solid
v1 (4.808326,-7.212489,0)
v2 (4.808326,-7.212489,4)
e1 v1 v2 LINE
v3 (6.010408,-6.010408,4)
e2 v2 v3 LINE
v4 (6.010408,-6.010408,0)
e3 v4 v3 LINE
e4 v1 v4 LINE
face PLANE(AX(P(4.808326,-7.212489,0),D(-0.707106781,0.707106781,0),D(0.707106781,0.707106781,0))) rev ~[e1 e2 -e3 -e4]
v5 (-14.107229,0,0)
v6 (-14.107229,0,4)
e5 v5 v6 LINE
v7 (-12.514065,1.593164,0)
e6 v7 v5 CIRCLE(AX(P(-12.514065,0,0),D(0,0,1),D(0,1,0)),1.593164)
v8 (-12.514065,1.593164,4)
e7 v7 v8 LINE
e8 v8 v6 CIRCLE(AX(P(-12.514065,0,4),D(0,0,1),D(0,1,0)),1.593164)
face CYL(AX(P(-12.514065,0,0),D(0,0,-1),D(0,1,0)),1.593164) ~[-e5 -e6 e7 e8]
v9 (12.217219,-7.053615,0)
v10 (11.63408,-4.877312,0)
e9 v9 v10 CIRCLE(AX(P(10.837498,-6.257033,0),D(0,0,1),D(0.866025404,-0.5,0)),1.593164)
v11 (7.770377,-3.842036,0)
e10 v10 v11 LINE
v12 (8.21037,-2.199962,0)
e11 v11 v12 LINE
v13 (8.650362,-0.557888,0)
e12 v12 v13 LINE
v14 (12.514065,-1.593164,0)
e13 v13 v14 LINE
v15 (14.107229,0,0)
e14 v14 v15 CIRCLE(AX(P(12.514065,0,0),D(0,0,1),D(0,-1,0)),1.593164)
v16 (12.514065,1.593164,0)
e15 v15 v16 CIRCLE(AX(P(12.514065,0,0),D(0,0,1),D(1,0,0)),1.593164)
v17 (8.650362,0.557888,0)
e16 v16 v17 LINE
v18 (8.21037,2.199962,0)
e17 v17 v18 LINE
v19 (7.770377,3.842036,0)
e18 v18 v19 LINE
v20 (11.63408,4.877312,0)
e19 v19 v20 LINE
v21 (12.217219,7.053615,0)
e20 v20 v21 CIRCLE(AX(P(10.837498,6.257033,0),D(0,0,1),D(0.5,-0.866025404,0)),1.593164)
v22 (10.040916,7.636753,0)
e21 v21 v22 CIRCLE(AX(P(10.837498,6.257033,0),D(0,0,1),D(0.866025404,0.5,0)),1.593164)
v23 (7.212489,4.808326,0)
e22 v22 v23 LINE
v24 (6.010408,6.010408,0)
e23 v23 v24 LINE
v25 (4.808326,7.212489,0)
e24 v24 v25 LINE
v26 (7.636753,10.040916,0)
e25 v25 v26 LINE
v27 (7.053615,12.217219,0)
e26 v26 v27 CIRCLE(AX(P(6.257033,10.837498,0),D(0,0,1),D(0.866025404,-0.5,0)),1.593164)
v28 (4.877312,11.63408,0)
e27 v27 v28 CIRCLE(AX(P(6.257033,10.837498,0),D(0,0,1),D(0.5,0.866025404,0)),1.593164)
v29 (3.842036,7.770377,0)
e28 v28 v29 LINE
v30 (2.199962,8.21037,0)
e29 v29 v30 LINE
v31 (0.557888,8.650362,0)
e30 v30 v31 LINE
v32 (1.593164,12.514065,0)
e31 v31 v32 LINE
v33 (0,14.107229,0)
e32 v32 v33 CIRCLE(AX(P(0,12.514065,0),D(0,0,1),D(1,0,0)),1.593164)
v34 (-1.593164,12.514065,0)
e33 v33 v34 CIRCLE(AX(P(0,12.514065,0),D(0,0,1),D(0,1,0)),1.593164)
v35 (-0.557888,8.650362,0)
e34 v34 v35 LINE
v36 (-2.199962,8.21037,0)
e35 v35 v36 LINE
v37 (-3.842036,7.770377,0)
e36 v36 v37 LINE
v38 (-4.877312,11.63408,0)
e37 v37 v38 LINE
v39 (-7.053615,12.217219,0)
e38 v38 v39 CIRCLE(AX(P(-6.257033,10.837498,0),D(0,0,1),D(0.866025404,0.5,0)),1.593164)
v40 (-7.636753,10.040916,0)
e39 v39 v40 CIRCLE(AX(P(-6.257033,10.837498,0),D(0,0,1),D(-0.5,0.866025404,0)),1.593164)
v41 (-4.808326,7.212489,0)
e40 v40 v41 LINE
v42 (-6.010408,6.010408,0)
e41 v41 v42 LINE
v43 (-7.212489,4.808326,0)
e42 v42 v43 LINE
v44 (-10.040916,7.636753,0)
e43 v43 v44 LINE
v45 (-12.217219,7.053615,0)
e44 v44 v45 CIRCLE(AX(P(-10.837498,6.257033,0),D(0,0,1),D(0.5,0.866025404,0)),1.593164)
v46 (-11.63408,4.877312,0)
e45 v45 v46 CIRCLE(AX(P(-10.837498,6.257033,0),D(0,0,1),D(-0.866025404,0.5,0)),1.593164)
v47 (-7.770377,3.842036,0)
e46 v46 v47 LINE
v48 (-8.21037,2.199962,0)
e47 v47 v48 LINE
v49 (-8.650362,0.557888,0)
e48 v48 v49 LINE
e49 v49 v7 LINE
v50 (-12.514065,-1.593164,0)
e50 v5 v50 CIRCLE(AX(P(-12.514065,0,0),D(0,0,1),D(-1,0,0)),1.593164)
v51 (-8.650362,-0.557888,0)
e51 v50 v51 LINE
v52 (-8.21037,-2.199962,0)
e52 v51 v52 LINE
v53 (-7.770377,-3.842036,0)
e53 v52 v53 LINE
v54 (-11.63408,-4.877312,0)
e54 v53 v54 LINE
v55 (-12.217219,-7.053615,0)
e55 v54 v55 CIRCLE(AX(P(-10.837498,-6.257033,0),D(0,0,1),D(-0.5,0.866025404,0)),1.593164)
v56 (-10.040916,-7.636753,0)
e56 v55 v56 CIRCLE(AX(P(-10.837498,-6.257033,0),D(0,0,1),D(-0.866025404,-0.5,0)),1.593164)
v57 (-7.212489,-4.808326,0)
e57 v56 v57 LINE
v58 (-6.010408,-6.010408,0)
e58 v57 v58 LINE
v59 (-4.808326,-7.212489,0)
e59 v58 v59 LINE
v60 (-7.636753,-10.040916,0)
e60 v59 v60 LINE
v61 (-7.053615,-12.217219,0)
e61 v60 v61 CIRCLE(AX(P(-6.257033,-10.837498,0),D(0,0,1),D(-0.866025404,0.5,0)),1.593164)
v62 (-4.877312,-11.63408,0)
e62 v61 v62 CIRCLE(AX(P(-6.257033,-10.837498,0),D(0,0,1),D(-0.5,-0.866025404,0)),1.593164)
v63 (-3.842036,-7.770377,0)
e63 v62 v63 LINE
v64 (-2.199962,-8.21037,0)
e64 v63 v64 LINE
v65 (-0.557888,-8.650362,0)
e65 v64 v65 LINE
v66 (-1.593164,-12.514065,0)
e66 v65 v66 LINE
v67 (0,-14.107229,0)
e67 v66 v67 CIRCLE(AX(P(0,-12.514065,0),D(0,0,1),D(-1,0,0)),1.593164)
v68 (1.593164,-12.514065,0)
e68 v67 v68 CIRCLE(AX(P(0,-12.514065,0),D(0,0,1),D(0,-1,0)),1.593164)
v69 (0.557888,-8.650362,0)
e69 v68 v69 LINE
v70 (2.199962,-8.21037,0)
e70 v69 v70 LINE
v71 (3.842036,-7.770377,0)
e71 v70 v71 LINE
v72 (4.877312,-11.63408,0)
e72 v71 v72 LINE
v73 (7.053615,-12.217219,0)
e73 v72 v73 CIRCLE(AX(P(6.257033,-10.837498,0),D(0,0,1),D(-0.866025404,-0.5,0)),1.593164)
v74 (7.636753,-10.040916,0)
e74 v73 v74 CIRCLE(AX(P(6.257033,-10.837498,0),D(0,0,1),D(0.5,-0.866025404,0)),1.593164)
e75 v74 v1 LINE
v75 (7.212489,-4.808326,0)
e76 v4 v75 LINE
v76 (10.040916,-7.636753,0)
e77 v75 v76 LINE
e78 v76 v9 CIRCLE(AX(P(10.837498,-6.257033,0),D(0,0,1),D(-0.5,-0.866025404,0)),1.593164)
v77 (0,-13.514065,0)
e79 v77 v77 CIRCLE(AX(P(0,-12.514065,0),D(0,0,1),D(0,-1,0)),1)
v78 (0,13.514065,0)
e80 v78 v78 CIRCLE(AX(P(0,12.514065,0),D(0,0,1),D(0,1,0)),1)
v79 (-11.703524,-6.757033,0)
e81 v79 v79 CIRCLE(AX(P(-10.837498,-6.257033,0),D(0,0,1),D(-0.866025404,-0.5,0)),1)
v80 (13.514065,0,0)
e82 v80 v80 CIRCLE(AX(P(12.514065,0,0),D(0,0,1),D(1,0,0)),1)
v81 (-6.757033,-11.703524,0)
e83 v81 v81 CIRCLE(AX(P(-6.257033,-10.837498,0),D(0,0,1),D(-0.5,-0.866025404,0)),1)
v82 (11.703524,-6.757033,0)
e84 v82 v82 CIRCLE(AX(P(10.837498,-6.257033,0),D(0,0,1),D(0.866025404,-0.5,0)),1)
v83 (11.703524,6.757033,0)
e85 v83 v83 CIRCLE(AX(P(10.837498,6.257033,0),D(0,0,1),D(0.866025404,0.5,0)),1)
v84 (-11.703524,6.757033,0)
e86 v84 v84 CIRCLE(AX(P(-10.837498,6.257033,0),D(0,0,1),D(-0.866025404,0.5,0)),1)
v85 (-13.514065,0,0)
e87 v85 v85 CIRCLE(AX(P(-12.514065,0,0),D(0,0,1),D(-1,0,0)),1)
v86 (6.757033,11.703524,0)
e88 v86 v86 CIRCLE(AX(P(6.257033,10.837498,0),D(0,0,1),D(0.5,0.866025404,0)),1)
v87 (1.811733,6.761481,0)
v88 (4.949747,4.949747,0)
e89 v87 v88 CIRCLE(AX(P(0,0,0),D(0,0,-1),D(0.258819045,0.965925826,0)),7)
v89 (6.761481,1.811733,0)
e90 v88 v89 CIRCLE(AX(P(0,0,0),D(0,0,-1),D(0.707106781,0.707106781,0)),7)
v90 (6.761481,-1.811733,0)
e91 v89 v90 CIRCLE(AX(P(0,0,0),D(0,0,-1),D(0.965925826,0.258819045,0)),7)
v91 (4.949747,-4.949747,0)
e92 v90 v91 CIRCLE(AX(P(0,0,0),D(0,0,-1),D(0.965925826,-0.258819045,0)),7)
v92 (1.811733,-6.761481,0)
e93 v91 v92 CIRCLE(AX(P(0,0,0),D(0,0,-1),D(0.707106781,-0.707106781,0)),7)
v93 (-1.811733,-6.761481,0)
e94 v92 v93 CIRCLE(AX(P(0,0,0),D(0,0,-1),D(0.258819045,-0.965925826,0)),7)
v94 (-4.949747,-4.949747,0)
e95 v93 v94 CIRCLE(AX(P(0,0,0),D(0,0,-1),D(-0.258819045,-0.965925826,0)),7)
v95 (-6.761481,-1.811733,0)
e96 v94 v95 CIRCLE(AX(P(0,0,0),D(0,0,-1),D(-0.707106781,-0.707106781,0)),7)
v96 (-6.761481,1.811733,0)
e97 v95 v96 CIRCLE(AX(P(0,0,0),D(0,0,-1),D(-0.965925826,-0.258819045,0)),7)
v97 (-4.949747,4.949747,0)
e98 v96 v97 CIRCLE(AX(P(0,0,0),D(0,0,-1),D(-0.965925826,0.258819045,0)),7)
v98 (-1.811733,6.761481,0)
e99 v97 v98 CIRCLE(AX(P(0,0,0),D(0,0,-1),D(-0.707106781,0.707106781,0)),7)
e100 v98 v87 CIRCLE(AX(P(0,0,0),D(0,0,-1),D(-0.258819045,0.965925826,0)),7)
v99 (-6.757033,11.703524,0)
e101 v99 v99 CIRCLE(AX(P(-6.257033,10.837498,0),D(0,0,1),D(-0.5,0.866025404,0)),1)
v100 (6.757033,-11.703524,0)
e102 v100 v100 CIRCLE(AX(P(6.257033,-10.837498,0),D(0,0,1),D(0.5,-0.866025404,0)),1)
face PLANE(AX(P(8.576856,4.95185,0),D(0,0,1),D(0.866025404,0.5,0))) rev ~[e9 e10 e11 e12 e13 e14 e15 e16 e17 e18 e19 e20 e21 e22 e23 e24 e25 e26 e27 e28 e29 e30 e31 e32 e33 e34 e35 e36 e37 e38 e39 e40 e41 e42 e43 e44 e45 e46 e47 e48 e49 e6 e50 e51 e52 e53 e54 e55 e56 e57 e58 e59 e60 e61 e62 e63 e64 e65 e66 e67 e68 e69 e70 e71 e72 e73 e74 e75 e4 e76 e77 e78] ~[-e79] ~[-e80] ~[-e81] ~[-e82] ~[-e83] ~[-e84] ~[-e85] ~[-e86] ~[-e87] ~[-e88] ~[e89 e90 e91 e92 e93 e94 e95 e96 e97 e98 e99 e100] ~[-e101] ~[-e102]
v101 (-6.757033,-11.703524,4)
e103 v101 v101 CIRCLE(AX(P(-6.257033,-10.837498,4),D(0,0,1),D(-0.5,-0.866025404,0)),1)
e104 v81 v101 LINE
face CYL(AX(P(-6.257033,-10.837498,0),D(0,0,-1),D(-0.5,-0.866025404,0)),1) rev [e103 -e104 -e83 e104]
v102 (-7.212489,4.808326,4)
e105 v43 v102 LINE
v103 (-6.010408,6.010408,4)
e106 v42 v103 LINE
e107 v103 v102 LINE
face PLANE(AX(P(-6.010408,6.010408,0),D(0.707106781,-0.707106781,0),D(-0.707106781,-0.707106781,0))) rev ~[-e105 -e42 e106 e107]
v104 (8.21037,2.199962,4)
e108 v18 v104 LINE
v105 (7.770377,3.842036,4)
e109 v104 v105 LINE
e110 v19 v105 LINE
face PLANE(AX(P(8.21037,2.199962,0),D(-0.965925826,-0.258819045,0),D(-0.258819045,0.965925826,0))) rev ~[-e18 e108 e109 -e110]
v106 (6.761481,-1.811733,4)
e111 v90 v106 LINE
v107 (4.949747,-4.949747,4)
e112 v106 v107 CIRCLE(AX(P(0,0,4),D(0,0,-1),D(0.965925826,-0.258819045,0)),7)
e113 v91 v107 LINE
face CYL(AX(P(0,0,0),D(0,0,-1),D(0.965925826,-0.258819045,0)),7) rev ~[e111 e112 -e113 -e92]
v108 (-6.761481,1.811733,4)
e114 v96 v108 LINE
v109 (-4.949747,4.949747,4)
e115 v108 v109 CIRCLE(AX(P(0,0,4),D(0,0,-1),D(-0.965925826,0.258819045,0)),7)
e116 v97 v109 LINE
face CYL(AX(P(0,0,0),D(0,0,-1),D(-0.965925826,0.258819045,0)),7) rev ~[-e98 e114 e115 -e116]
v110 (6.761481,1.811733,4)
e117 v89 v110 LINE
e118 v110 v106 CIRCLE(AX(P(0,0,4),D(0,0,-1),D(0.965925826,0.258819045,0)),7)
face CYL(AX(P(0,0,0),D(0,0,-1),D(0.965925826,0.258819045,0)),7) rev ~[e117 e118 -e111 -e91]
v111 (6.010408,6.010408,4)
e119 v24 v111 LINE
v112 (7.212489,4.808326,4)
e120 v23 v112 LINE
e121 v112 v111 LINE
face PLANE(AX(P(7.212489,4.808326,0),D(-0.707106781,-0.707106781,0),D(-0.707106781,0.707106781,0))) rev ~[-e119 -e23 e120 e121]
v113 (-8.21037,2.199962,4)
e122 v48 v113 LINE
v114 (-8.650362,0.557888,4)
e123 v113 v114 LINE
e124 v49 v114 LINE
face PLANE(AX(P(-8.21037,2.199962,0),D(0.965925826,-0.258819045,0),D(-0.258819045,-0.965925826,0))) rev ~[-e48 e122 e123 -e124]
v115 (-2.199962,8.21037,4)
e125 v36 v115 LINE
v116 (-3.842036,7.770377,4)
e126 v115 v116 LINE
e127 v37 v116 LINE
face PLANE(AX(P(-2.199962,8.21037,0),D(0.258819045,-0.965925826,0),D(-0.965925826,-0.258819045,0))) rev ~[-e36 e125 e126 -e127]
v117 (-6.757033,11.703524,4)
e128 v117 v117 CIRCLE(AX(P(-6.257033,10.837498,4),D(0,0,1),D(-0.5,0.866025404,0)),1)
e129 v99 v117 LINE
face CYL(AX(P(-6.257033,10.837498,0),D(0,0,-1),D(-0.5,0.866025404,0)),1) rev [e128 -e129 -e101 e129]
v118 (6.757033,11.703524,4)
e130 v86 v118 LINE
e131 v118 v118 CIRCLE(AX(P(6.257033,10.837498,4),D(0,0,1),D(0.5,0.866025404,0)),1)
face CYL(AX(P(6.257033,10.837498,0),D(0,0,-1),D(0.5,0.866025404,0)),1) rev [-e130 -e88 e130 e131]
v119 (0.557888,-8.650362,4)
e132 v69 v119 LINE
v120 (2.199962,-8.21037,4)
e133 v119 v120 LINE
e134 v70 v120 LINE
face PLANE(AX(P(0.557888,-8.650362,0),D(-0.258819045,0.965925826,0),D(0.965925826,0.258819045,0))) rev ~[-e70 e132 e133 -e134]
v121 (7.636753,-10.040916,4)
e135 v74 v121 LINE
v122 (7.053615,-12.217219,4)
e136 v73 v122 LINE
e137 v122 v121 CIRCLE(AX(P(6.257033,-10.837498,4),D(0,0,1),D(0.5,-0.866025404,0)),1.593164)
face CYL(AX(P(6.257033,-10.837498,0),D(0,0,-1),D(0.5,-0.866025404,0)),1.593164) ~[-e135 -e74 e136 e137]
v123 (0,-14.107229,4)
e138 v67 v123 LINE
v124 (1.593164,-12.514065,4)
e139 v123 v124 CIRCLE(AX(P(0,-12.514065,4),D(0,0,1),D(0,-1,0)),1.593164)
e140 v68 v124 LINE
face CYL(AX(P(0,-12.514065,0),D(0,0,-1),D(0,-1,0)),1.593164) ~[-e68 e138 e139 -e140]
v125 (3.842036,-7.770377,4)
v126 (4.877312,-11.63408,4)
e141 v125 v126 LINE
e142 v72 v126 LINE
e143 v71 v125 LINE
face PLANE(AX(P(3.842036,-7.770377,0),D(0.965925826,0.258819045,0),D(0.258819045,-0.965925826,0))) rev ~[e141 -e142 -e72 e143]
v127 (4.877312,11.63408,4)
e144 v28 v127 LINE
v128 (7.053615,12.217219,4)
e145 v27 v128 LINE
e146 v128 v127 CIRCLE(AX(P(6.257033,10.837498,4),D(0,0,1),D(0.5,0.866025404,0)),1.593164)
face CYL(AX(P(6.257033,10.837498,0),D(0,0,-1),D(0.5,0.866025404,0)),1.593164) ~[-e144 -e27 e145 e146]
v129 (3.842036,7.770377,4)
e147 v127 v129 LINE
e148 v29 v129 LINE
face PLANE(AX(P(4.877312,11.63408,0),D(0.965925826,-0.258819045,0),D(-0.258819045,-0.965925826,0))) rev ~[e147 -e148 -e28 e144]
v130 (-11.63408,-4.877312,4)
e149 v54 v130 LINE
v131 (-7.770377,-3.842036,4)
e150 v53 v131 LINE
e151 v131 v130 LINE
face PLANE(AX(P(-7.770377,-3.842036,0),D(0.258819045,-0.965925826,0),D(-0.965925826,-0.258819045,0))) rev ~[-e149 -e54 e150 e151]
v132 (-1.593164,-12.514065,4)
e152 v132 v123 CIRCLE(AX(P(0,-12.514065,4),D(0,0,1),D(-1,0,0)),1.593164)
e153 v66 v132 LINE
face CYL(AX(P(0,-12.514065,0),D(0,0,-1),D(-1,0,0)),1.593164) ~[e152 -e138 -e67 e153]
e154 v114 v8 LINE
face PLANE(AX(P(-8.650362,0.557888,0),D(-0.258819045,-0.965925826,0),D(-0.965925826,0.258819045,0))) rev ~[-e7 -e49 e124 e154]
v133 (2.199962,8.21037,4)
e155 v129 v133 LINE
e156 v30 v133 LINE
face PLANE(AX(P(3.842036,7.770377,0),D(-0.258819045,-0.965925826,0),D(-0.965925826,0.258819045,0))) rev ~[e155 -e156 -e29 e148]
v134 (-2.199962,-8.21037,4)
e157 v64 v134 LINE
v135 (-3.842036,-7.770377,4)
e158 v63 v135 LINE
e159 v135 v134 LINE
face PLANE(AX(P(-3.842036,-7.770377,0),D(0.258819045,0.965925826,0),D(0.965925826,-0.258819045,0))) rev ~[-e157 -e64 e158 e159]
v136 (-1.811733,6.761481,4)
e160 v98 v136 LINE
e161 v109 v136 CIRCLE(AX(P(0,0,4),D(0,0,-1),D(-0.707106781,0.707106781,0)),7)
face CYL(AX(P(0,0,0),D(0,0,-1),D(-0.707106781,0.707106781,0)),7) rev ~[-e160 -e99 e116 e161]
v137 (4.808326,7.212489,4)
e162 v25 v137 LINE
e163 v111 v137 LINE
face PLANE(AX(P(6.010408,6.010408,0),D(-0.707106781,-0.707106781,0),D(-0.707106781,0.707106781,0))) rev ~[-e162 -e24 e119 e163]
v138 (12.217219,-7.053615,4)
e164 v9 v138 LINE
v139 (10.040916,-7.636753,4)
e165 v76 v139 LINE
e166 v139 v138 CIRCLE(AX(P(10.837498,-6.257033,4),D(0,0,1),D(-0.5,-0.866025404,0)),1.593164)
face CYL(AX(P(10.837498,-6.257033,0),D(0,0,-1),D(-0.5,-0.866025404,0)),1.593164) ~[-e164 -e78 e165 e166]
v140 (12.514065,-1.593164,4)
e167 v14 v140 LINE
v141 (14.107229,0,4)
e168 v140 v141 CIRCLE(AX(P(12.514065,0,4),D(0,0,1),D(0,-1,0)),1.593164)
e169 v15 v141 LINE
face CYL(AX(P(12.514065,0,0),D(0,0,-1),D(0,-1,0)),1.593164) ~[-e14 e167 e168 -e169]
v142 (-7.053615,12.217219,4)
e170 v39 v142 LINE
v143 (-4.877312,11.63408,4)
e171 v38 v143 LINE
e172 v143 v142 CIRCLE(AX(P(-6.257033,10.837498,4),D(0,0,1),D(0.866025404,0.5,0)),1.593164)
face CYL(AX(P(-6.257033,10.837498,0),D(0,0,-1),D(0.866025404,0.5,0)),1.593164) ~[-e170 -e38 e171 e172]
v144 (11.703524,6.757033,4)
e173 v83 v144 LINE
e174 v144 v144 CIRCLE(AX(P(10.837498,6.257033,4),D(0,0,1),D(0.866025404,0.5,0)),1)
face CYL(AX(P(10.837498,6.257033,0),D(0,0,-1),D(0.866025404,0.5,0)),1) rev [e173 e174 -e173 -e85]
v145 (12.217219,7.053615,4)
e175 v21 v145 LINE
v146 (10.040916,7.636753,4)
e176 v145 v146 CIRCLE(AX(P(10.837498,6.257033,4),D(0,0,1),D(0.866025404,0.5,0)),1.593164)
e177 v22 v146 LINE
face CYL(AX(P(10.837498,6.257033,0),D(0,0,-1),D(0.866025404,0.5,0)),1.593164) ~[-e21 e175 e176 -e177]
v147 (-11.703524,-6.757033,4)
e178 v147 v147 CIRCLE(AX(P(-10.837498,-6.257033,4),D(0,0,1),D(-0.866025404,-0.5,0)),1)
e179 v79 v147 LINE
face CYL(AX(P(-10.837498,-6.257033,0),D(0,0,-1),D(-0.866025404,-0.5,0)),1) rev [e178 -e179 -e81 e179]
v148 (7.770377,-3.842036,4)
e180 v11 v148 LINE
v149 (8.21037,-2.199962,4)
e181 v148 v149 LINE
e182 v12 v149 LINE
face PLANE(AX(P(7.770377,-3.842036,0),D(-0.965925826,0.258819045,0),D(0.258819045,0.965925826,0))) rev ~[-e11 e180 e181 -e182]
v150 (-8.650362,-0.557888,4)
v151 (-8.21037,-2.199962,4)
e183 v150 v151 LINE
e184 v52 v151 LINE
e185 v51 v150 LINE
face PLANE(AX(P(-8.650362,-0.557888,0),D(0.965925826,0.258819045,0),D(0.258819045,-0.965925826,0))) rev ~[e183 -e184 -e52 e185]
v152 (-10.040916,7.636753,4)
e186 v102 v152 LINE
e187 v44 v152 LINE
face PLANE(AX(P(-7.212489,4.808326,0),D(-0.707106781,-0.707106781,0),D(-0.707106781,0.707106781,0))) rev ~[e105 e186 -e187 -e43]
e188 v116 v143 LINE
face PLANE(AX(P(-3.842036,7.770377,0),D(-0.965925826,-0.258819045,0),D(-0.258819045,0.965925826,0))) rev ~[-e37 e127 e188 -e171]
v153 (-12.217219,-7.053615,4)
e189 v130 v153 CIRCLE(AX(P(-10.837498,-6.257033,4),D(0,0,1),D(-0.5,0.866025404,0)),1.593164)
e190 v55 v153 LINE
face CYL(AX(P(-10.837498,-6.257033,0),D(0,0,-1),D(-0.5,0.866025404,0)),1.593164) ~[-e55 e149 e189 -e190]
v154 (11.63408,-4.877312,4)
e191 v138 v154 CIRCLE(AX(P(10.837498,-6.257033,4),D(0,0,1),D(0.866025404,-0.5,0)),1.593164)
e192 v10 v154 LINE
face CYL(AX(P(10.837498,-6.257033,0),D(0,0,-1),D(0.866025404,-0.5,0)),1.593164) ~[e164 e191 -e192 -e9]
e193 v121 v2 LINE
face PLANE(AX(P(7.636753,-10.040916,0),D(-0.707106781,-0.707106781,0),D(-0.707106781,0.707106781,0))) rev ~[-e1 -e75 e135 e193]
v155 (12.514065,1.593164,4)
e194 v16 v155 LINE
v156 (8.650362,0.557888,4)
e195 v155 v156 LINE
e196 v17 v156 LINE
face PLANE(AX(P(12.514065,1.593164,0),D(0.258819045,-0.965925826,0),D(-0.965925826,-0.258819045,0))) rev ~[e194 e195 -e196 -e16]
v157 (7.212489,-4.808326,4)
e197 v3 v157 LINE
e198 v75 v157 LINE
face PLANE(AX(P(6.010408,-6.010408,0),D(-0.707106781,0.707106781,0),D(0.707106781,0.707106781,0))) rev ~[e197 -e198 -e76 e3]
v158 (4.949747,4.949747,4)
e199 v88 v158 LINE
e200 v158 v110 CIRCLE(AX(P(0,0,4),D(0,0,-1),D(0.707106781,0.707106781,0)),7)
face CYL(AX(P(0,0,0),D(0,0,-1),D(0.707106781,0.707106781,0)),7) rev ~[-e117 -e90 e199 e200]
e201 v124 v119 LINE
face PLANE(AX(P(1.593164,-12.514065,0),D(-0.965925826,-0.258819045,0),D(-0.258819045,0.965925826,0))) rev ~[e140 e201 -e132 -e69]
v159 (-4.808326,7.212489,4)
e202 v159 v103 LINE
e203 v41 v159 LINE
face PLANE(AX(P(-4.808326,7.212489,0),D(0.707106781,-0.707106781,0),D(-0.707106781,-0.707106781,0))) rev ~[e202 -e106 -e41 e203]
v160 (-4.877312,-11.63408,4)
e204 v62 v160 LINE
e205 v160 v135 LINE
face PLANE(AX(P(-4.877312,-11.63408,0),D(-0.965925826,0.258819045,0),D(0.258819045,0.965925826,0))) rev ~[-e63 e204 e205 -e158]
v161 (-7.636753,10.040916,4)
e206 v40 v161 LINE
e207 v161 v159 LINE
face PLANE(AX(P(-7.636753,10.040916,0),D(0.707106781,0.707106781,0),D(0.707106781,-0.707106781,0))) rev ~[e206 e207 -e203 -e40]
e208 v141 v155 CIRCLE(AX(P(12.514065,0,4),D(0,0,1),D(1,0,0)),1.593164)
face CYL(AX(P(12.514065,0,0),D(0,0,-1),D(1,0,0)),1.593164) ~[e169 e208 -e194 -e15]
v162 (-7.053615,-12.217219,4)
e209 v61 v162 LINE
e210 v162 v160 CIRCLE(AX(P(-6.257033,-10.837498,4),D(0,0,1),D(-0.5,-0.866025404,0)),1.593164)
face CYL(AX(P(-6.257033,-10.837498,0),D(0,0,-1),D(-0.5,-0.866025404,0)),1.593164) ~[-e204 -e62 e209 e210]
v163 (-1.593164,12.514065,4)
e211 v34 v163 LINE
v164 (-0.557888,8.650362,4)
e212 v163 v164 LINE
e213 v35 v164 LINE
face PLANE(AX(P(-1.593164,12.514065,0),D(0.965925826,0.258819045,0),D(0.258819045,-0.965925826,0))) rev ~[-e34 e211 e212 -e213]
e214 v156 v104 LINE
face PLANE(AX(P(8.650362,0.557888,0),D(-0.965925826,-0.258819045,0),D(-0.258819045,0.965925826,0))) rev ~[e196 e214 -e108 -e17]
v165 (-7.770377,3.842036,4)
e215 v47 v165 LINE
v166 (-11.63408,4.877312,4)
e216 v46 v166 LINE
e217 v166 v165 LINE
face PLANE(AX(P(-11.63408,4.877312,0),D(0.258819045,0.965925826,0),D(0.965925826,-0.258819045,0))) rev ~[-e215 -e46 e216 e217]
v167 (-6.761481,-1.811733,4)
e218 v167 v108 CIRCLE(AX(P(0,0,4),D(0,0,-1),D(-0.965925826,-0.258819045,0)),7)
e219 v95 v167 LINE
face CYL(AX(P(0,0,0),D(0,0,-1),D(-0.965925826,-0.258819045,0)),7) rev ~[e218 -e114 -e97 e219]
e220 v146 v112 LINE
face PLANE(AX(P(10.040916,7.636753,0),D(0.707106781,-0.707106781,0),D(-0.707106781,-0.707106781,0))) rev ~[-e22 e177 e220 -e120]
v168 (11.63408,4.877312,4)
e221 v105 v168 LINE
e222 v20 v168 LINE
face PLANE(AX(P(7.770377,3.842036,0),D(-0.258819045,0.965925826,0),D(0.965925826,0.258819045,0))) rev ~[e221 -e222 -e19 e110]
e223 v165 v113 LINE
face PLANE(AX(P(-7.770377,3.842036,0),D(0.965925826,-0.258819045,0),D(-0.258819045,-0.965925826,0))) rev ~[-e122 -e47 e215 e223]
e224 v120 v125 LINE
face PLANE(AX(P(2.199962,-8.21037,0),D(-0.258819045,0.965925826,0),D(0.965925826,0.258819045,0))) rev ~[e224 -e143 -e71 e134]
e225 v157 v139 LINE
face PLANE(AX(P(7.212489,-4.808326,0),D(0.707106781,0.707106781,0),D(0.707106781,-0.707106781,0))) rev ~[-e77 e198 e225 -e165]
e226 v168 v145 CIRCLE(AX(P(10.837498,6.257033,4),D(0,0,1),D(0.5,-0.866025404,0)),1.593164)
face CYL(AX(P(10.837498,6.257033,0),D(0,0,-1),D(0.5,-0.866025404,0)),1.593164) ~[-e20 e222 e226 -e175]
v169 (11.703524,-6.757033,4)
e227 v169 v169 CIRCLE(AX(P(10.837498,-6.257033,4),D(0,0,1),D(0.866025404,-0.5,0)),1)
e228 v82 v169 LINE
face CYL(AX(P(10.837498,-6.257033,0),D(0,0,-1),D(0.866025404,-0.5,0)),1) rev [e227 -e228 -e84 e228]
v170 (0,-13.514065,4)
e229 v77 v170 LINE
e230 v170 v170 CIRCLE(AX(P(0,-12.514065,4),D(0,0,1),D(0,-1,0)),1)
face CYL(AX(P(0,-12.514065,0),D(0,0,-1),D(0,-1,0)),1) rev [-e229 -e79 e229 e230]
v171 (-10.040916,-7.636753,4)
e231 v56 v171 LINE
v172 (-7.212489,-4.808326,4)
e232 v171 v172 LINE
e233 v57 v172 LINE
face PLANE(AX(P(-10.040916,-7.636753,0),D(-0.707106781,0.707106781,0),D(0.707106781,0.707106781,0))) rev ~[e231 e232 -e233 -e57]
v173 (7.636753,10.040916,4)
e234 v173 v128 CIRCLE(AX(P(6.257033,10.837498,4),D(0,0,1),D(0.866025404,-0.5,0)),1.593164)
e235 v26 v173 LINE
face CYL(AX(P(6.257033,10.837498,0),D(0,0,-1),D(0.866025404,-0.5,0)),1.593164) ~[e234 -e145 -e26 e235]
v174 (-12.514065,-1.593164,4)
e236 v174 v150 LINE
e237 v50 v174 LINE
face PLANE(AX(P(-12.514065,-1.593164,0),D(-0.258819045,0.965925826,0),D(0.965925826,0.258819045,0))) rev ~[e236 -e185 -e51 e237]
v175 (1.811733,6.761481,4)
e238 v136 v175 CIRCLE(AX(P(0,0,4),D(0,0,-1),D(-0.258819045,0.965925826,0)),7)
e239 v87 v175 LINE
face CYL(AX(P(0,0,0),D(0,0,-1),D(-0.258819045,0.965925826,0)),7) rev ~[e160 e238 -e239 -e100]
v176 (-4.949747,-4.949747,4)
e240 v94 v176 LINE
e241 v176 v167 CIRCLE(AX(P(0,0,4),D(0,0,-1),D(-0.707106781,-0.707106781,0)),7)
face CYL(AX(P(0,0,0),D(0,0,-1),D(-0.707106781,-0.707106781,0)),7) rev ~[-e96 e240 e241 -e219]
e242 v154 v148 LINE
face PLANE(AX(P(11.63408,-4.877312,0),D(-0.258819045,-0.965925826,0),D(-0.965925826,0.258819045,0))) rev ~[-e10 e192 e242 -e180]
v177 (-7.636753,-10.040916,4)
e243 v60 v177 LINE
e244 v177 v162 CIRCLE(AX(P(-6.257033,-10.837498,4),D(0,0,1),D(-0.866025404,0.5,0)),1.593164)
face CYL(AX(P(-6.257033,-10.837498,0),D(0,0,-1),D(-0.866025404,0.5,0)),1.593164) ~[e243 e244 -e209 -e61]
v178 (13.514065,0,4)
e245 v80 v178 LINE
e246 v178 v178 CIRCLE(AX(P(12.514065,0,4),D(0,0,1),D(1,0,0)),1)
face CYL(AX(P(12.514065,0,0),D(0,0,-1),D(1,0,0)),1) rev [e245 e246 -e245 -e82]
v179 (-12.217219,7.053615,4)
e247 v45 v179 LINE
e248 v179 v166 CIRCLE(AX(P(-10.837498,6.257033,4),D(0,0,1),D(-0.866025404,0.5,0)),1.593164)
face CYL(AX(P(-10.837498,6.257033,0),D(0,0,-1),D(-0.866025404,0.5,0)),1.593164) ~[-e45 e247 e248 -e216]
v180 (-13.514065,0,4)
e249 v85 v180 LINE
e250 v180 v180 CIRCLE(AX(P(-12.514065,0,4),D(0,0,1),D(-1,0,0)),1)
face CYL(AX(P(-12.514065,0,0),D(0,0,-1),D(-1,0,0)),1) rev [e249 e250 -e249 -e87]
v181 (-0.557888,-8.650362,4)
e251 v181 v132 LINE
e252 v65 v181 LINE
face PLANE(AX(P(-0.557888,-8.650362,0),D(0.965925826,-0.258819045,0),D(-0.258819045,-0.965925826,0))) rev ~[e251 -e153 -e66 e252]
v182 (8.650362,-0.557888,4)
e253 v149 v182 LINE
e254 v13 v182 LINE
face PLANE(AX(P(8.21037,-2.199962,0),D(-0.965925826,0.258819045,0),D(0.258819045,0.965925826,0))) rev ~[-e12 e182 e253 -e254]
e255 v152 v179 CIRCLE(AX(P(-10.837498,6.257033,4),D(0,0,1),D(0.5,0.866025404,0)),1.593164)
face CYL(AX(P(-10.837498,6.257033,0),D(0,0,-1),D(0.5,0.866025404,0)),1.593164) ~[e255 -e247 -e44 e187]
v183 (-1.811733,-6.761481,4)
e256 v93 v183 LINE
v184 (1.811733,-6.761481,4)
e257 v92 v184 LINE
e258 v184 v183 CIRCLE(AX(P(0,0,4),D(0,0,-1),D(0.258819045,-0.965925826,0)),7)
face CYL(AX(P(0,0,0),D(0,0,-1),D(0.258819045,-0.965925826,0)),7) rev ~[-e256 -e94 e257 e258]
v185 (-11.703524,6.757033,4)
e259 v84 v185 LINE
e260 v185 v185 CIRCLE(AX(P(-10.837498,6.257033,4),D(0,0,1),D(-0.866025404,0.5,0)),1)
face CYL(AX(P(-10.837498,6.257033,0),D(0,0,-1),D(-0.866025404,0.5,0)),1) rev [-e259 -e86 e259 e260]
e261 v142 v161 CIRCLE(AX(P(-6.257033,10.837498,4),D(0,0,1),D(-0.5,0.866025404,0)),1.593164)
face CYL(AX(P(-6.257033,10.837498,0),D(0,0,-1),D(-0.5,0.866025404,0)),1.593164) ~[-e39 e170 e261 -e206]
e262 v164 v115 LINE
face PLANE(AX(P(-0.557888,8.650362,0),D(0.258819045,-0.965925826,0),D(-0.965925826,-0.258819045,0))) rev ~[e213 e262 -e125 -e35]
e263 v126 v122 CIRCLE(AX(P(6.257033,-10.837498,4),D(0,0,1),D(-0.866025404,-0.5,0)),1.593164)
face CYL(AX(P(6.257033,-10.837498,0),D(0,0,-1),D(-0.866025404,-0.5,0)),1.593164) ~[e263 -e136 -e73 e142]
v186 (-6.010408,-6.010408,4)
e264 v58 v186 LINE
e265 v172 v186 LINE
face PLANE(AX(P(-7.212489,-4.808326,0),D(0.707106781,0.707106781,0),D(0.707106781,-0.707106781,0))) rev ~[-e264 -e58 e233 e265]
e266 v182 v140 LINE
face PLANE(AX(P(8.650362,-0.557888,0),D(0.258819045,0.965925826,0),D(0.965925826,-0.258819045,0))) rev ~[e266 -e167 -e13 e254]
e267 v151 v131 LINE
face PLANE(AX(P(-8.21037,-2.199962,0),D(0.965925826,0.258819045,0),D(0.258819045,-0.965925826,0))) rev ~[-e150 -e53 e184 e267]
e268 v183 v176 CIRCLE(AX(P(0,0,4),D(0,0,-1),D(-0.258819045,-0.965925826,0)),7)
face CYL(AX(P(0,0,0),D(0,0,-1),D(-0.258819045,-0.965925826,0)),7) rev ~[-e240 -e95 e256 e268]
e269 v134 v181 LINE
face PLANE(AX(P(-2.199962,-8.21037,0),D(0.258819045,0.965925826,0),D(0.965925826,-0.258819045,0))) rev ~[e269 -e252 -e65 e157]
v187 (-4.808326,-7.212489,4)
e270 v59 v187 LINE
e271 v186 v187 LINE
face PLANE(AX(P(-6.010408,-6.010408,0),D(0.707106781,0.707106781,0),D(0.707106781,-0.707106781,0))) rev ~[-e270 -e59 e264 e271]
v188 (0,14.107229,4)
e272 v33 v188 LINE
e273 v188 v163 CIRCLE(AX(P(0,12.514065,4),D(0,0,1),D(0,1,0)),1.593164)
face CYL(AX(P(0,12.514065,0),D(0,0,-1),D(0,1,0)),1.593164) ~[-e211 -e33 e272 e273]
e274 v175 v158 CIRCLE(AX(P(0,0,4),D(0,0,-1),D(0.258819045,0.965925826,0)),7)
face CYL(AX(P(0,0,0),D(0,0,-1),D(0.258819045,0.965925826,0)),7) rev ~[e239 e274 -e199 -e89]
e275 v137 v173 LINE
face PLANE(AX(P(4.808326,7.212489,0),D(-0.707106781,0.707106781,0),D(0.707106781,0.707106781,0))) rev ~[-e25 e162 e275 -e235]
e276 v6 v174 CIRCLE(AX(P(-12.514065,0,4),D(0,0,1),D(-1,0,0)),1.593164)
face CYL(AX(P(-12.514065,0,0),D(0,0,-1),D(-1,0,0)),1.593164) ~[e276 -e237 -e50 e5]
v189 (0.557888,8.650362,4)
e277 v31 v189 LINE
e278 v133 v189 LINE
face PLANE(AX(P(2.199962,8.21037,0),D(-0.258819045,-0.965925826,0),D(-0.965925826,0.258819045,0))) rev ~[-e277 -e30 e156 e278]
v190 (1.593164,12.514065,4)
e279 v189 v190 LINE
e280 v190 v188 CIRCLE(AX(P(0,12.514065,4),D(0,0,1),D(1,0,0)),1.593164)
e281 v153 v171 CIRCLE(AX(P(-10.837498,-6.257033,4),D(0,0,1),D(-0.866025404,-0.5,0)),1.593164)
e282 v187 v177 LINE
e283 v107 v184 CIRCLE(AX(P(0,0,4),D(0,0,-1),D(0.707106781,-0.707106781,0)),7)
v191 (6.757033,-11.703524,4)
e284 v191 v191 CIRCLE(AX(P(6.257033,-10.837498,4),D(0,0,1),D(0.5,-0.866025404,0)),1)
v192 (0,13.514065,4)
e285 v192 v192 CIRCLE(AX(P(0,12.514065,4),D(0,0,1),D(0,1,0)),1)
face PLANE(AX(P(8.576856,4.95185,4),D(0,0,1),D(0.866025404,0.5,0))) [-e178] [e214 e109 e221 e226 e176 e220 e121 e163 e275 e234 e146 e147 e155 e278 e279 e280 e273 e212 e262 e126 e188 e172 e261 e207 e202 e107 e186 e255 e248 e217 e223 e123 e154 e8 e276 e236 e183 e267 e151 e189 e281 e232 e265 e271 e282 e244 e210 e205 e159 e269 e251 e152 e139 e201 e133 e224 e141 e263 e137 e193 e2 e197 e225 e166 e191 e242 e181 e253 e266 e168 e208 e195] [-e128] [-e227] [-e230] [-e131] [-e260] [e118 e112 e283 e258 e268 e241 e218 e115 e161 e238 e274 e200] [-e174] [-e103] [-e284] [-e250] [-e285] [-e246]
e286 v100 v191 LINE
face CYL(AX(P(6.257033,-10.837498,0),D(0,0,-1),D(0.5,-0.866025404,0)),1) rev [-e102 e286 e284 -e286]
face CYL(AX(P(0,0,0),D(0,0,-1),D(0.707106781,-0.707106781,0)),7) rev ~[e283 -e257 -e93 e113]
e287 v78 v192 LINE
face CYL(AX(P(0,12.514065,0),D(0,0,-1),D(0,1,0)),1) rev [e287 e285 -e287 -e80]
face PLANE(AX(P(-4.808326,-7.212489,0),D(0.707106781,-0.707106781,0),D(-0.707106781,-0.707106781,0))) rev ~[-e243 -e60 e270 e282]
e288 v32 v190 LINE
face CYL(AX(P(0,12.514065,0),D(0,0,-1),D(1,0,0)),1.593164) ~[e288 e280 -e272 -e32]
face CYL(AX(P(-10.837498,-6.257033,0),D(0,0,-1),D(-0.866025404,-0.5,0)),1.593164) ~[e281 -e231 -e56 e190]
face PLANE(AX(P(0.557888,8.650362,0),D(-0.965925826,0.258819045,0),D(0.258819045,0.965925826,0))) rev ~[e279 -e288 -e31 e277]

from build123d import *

# Parameters (mm, degrees)
F0_R     = 1
F1_DEPTH = 4
F3_COUNT = 12


with BuildPart() as f1:
    # F0 (on Top) → F1 (new body)
    with BuildSketch(Plane.XY):
        with BuildLine():
            Line((8.6503619001, 0.5578879787), (8.2103695235, 2.1999618834))
            Line((8.2103695235, 2.1999618834), (6.761480784, 1.8117333157))
            ThreePointArc((6.761480784, 1.8117333157), (7, 0), (6.761480784, -1.8117333157))
            Line((6.761480784, -1.8117333157), (8.2103695235, -2.1999618834))
            Line((8.2103695235, -2.1999618834), (8.6503619001, -0.5578879787))
            Line((8.6503619001, -0.5578879787), (12.5140652053, -1.5931641591))
            ThreePointArc((12.5140652053, -1.5931641591), (13.6406023857, -1.1265371804), (14.1072293644, 0))
            ThreePointArc((14.1072293644, 0), (13.6406023857, 1.1265371804), (12.5140652053, 1.5931641591))
            Line((12.5140652053, 1.5931641591), (8.6503619001, 0.5578879787))
        make_face()
        with Locations((12.5140652053, 0)):
            Circle(F0_R, mode=Mode.SUBTRACT)
    extrude(amount=F1_DEPTH)

    # F3: F1 ×12 about axis
    f3_axis = Axis((0, 0, -5.4754605517), (0, 0, -1))


with BuildPart() as f1_1:
    add(f1.part)
    for i in range(1, F3_COUNT):
        add(f1.part.rotate(f3_axis, i * 360 / F3_COUNT))


solid = f1_1.part
